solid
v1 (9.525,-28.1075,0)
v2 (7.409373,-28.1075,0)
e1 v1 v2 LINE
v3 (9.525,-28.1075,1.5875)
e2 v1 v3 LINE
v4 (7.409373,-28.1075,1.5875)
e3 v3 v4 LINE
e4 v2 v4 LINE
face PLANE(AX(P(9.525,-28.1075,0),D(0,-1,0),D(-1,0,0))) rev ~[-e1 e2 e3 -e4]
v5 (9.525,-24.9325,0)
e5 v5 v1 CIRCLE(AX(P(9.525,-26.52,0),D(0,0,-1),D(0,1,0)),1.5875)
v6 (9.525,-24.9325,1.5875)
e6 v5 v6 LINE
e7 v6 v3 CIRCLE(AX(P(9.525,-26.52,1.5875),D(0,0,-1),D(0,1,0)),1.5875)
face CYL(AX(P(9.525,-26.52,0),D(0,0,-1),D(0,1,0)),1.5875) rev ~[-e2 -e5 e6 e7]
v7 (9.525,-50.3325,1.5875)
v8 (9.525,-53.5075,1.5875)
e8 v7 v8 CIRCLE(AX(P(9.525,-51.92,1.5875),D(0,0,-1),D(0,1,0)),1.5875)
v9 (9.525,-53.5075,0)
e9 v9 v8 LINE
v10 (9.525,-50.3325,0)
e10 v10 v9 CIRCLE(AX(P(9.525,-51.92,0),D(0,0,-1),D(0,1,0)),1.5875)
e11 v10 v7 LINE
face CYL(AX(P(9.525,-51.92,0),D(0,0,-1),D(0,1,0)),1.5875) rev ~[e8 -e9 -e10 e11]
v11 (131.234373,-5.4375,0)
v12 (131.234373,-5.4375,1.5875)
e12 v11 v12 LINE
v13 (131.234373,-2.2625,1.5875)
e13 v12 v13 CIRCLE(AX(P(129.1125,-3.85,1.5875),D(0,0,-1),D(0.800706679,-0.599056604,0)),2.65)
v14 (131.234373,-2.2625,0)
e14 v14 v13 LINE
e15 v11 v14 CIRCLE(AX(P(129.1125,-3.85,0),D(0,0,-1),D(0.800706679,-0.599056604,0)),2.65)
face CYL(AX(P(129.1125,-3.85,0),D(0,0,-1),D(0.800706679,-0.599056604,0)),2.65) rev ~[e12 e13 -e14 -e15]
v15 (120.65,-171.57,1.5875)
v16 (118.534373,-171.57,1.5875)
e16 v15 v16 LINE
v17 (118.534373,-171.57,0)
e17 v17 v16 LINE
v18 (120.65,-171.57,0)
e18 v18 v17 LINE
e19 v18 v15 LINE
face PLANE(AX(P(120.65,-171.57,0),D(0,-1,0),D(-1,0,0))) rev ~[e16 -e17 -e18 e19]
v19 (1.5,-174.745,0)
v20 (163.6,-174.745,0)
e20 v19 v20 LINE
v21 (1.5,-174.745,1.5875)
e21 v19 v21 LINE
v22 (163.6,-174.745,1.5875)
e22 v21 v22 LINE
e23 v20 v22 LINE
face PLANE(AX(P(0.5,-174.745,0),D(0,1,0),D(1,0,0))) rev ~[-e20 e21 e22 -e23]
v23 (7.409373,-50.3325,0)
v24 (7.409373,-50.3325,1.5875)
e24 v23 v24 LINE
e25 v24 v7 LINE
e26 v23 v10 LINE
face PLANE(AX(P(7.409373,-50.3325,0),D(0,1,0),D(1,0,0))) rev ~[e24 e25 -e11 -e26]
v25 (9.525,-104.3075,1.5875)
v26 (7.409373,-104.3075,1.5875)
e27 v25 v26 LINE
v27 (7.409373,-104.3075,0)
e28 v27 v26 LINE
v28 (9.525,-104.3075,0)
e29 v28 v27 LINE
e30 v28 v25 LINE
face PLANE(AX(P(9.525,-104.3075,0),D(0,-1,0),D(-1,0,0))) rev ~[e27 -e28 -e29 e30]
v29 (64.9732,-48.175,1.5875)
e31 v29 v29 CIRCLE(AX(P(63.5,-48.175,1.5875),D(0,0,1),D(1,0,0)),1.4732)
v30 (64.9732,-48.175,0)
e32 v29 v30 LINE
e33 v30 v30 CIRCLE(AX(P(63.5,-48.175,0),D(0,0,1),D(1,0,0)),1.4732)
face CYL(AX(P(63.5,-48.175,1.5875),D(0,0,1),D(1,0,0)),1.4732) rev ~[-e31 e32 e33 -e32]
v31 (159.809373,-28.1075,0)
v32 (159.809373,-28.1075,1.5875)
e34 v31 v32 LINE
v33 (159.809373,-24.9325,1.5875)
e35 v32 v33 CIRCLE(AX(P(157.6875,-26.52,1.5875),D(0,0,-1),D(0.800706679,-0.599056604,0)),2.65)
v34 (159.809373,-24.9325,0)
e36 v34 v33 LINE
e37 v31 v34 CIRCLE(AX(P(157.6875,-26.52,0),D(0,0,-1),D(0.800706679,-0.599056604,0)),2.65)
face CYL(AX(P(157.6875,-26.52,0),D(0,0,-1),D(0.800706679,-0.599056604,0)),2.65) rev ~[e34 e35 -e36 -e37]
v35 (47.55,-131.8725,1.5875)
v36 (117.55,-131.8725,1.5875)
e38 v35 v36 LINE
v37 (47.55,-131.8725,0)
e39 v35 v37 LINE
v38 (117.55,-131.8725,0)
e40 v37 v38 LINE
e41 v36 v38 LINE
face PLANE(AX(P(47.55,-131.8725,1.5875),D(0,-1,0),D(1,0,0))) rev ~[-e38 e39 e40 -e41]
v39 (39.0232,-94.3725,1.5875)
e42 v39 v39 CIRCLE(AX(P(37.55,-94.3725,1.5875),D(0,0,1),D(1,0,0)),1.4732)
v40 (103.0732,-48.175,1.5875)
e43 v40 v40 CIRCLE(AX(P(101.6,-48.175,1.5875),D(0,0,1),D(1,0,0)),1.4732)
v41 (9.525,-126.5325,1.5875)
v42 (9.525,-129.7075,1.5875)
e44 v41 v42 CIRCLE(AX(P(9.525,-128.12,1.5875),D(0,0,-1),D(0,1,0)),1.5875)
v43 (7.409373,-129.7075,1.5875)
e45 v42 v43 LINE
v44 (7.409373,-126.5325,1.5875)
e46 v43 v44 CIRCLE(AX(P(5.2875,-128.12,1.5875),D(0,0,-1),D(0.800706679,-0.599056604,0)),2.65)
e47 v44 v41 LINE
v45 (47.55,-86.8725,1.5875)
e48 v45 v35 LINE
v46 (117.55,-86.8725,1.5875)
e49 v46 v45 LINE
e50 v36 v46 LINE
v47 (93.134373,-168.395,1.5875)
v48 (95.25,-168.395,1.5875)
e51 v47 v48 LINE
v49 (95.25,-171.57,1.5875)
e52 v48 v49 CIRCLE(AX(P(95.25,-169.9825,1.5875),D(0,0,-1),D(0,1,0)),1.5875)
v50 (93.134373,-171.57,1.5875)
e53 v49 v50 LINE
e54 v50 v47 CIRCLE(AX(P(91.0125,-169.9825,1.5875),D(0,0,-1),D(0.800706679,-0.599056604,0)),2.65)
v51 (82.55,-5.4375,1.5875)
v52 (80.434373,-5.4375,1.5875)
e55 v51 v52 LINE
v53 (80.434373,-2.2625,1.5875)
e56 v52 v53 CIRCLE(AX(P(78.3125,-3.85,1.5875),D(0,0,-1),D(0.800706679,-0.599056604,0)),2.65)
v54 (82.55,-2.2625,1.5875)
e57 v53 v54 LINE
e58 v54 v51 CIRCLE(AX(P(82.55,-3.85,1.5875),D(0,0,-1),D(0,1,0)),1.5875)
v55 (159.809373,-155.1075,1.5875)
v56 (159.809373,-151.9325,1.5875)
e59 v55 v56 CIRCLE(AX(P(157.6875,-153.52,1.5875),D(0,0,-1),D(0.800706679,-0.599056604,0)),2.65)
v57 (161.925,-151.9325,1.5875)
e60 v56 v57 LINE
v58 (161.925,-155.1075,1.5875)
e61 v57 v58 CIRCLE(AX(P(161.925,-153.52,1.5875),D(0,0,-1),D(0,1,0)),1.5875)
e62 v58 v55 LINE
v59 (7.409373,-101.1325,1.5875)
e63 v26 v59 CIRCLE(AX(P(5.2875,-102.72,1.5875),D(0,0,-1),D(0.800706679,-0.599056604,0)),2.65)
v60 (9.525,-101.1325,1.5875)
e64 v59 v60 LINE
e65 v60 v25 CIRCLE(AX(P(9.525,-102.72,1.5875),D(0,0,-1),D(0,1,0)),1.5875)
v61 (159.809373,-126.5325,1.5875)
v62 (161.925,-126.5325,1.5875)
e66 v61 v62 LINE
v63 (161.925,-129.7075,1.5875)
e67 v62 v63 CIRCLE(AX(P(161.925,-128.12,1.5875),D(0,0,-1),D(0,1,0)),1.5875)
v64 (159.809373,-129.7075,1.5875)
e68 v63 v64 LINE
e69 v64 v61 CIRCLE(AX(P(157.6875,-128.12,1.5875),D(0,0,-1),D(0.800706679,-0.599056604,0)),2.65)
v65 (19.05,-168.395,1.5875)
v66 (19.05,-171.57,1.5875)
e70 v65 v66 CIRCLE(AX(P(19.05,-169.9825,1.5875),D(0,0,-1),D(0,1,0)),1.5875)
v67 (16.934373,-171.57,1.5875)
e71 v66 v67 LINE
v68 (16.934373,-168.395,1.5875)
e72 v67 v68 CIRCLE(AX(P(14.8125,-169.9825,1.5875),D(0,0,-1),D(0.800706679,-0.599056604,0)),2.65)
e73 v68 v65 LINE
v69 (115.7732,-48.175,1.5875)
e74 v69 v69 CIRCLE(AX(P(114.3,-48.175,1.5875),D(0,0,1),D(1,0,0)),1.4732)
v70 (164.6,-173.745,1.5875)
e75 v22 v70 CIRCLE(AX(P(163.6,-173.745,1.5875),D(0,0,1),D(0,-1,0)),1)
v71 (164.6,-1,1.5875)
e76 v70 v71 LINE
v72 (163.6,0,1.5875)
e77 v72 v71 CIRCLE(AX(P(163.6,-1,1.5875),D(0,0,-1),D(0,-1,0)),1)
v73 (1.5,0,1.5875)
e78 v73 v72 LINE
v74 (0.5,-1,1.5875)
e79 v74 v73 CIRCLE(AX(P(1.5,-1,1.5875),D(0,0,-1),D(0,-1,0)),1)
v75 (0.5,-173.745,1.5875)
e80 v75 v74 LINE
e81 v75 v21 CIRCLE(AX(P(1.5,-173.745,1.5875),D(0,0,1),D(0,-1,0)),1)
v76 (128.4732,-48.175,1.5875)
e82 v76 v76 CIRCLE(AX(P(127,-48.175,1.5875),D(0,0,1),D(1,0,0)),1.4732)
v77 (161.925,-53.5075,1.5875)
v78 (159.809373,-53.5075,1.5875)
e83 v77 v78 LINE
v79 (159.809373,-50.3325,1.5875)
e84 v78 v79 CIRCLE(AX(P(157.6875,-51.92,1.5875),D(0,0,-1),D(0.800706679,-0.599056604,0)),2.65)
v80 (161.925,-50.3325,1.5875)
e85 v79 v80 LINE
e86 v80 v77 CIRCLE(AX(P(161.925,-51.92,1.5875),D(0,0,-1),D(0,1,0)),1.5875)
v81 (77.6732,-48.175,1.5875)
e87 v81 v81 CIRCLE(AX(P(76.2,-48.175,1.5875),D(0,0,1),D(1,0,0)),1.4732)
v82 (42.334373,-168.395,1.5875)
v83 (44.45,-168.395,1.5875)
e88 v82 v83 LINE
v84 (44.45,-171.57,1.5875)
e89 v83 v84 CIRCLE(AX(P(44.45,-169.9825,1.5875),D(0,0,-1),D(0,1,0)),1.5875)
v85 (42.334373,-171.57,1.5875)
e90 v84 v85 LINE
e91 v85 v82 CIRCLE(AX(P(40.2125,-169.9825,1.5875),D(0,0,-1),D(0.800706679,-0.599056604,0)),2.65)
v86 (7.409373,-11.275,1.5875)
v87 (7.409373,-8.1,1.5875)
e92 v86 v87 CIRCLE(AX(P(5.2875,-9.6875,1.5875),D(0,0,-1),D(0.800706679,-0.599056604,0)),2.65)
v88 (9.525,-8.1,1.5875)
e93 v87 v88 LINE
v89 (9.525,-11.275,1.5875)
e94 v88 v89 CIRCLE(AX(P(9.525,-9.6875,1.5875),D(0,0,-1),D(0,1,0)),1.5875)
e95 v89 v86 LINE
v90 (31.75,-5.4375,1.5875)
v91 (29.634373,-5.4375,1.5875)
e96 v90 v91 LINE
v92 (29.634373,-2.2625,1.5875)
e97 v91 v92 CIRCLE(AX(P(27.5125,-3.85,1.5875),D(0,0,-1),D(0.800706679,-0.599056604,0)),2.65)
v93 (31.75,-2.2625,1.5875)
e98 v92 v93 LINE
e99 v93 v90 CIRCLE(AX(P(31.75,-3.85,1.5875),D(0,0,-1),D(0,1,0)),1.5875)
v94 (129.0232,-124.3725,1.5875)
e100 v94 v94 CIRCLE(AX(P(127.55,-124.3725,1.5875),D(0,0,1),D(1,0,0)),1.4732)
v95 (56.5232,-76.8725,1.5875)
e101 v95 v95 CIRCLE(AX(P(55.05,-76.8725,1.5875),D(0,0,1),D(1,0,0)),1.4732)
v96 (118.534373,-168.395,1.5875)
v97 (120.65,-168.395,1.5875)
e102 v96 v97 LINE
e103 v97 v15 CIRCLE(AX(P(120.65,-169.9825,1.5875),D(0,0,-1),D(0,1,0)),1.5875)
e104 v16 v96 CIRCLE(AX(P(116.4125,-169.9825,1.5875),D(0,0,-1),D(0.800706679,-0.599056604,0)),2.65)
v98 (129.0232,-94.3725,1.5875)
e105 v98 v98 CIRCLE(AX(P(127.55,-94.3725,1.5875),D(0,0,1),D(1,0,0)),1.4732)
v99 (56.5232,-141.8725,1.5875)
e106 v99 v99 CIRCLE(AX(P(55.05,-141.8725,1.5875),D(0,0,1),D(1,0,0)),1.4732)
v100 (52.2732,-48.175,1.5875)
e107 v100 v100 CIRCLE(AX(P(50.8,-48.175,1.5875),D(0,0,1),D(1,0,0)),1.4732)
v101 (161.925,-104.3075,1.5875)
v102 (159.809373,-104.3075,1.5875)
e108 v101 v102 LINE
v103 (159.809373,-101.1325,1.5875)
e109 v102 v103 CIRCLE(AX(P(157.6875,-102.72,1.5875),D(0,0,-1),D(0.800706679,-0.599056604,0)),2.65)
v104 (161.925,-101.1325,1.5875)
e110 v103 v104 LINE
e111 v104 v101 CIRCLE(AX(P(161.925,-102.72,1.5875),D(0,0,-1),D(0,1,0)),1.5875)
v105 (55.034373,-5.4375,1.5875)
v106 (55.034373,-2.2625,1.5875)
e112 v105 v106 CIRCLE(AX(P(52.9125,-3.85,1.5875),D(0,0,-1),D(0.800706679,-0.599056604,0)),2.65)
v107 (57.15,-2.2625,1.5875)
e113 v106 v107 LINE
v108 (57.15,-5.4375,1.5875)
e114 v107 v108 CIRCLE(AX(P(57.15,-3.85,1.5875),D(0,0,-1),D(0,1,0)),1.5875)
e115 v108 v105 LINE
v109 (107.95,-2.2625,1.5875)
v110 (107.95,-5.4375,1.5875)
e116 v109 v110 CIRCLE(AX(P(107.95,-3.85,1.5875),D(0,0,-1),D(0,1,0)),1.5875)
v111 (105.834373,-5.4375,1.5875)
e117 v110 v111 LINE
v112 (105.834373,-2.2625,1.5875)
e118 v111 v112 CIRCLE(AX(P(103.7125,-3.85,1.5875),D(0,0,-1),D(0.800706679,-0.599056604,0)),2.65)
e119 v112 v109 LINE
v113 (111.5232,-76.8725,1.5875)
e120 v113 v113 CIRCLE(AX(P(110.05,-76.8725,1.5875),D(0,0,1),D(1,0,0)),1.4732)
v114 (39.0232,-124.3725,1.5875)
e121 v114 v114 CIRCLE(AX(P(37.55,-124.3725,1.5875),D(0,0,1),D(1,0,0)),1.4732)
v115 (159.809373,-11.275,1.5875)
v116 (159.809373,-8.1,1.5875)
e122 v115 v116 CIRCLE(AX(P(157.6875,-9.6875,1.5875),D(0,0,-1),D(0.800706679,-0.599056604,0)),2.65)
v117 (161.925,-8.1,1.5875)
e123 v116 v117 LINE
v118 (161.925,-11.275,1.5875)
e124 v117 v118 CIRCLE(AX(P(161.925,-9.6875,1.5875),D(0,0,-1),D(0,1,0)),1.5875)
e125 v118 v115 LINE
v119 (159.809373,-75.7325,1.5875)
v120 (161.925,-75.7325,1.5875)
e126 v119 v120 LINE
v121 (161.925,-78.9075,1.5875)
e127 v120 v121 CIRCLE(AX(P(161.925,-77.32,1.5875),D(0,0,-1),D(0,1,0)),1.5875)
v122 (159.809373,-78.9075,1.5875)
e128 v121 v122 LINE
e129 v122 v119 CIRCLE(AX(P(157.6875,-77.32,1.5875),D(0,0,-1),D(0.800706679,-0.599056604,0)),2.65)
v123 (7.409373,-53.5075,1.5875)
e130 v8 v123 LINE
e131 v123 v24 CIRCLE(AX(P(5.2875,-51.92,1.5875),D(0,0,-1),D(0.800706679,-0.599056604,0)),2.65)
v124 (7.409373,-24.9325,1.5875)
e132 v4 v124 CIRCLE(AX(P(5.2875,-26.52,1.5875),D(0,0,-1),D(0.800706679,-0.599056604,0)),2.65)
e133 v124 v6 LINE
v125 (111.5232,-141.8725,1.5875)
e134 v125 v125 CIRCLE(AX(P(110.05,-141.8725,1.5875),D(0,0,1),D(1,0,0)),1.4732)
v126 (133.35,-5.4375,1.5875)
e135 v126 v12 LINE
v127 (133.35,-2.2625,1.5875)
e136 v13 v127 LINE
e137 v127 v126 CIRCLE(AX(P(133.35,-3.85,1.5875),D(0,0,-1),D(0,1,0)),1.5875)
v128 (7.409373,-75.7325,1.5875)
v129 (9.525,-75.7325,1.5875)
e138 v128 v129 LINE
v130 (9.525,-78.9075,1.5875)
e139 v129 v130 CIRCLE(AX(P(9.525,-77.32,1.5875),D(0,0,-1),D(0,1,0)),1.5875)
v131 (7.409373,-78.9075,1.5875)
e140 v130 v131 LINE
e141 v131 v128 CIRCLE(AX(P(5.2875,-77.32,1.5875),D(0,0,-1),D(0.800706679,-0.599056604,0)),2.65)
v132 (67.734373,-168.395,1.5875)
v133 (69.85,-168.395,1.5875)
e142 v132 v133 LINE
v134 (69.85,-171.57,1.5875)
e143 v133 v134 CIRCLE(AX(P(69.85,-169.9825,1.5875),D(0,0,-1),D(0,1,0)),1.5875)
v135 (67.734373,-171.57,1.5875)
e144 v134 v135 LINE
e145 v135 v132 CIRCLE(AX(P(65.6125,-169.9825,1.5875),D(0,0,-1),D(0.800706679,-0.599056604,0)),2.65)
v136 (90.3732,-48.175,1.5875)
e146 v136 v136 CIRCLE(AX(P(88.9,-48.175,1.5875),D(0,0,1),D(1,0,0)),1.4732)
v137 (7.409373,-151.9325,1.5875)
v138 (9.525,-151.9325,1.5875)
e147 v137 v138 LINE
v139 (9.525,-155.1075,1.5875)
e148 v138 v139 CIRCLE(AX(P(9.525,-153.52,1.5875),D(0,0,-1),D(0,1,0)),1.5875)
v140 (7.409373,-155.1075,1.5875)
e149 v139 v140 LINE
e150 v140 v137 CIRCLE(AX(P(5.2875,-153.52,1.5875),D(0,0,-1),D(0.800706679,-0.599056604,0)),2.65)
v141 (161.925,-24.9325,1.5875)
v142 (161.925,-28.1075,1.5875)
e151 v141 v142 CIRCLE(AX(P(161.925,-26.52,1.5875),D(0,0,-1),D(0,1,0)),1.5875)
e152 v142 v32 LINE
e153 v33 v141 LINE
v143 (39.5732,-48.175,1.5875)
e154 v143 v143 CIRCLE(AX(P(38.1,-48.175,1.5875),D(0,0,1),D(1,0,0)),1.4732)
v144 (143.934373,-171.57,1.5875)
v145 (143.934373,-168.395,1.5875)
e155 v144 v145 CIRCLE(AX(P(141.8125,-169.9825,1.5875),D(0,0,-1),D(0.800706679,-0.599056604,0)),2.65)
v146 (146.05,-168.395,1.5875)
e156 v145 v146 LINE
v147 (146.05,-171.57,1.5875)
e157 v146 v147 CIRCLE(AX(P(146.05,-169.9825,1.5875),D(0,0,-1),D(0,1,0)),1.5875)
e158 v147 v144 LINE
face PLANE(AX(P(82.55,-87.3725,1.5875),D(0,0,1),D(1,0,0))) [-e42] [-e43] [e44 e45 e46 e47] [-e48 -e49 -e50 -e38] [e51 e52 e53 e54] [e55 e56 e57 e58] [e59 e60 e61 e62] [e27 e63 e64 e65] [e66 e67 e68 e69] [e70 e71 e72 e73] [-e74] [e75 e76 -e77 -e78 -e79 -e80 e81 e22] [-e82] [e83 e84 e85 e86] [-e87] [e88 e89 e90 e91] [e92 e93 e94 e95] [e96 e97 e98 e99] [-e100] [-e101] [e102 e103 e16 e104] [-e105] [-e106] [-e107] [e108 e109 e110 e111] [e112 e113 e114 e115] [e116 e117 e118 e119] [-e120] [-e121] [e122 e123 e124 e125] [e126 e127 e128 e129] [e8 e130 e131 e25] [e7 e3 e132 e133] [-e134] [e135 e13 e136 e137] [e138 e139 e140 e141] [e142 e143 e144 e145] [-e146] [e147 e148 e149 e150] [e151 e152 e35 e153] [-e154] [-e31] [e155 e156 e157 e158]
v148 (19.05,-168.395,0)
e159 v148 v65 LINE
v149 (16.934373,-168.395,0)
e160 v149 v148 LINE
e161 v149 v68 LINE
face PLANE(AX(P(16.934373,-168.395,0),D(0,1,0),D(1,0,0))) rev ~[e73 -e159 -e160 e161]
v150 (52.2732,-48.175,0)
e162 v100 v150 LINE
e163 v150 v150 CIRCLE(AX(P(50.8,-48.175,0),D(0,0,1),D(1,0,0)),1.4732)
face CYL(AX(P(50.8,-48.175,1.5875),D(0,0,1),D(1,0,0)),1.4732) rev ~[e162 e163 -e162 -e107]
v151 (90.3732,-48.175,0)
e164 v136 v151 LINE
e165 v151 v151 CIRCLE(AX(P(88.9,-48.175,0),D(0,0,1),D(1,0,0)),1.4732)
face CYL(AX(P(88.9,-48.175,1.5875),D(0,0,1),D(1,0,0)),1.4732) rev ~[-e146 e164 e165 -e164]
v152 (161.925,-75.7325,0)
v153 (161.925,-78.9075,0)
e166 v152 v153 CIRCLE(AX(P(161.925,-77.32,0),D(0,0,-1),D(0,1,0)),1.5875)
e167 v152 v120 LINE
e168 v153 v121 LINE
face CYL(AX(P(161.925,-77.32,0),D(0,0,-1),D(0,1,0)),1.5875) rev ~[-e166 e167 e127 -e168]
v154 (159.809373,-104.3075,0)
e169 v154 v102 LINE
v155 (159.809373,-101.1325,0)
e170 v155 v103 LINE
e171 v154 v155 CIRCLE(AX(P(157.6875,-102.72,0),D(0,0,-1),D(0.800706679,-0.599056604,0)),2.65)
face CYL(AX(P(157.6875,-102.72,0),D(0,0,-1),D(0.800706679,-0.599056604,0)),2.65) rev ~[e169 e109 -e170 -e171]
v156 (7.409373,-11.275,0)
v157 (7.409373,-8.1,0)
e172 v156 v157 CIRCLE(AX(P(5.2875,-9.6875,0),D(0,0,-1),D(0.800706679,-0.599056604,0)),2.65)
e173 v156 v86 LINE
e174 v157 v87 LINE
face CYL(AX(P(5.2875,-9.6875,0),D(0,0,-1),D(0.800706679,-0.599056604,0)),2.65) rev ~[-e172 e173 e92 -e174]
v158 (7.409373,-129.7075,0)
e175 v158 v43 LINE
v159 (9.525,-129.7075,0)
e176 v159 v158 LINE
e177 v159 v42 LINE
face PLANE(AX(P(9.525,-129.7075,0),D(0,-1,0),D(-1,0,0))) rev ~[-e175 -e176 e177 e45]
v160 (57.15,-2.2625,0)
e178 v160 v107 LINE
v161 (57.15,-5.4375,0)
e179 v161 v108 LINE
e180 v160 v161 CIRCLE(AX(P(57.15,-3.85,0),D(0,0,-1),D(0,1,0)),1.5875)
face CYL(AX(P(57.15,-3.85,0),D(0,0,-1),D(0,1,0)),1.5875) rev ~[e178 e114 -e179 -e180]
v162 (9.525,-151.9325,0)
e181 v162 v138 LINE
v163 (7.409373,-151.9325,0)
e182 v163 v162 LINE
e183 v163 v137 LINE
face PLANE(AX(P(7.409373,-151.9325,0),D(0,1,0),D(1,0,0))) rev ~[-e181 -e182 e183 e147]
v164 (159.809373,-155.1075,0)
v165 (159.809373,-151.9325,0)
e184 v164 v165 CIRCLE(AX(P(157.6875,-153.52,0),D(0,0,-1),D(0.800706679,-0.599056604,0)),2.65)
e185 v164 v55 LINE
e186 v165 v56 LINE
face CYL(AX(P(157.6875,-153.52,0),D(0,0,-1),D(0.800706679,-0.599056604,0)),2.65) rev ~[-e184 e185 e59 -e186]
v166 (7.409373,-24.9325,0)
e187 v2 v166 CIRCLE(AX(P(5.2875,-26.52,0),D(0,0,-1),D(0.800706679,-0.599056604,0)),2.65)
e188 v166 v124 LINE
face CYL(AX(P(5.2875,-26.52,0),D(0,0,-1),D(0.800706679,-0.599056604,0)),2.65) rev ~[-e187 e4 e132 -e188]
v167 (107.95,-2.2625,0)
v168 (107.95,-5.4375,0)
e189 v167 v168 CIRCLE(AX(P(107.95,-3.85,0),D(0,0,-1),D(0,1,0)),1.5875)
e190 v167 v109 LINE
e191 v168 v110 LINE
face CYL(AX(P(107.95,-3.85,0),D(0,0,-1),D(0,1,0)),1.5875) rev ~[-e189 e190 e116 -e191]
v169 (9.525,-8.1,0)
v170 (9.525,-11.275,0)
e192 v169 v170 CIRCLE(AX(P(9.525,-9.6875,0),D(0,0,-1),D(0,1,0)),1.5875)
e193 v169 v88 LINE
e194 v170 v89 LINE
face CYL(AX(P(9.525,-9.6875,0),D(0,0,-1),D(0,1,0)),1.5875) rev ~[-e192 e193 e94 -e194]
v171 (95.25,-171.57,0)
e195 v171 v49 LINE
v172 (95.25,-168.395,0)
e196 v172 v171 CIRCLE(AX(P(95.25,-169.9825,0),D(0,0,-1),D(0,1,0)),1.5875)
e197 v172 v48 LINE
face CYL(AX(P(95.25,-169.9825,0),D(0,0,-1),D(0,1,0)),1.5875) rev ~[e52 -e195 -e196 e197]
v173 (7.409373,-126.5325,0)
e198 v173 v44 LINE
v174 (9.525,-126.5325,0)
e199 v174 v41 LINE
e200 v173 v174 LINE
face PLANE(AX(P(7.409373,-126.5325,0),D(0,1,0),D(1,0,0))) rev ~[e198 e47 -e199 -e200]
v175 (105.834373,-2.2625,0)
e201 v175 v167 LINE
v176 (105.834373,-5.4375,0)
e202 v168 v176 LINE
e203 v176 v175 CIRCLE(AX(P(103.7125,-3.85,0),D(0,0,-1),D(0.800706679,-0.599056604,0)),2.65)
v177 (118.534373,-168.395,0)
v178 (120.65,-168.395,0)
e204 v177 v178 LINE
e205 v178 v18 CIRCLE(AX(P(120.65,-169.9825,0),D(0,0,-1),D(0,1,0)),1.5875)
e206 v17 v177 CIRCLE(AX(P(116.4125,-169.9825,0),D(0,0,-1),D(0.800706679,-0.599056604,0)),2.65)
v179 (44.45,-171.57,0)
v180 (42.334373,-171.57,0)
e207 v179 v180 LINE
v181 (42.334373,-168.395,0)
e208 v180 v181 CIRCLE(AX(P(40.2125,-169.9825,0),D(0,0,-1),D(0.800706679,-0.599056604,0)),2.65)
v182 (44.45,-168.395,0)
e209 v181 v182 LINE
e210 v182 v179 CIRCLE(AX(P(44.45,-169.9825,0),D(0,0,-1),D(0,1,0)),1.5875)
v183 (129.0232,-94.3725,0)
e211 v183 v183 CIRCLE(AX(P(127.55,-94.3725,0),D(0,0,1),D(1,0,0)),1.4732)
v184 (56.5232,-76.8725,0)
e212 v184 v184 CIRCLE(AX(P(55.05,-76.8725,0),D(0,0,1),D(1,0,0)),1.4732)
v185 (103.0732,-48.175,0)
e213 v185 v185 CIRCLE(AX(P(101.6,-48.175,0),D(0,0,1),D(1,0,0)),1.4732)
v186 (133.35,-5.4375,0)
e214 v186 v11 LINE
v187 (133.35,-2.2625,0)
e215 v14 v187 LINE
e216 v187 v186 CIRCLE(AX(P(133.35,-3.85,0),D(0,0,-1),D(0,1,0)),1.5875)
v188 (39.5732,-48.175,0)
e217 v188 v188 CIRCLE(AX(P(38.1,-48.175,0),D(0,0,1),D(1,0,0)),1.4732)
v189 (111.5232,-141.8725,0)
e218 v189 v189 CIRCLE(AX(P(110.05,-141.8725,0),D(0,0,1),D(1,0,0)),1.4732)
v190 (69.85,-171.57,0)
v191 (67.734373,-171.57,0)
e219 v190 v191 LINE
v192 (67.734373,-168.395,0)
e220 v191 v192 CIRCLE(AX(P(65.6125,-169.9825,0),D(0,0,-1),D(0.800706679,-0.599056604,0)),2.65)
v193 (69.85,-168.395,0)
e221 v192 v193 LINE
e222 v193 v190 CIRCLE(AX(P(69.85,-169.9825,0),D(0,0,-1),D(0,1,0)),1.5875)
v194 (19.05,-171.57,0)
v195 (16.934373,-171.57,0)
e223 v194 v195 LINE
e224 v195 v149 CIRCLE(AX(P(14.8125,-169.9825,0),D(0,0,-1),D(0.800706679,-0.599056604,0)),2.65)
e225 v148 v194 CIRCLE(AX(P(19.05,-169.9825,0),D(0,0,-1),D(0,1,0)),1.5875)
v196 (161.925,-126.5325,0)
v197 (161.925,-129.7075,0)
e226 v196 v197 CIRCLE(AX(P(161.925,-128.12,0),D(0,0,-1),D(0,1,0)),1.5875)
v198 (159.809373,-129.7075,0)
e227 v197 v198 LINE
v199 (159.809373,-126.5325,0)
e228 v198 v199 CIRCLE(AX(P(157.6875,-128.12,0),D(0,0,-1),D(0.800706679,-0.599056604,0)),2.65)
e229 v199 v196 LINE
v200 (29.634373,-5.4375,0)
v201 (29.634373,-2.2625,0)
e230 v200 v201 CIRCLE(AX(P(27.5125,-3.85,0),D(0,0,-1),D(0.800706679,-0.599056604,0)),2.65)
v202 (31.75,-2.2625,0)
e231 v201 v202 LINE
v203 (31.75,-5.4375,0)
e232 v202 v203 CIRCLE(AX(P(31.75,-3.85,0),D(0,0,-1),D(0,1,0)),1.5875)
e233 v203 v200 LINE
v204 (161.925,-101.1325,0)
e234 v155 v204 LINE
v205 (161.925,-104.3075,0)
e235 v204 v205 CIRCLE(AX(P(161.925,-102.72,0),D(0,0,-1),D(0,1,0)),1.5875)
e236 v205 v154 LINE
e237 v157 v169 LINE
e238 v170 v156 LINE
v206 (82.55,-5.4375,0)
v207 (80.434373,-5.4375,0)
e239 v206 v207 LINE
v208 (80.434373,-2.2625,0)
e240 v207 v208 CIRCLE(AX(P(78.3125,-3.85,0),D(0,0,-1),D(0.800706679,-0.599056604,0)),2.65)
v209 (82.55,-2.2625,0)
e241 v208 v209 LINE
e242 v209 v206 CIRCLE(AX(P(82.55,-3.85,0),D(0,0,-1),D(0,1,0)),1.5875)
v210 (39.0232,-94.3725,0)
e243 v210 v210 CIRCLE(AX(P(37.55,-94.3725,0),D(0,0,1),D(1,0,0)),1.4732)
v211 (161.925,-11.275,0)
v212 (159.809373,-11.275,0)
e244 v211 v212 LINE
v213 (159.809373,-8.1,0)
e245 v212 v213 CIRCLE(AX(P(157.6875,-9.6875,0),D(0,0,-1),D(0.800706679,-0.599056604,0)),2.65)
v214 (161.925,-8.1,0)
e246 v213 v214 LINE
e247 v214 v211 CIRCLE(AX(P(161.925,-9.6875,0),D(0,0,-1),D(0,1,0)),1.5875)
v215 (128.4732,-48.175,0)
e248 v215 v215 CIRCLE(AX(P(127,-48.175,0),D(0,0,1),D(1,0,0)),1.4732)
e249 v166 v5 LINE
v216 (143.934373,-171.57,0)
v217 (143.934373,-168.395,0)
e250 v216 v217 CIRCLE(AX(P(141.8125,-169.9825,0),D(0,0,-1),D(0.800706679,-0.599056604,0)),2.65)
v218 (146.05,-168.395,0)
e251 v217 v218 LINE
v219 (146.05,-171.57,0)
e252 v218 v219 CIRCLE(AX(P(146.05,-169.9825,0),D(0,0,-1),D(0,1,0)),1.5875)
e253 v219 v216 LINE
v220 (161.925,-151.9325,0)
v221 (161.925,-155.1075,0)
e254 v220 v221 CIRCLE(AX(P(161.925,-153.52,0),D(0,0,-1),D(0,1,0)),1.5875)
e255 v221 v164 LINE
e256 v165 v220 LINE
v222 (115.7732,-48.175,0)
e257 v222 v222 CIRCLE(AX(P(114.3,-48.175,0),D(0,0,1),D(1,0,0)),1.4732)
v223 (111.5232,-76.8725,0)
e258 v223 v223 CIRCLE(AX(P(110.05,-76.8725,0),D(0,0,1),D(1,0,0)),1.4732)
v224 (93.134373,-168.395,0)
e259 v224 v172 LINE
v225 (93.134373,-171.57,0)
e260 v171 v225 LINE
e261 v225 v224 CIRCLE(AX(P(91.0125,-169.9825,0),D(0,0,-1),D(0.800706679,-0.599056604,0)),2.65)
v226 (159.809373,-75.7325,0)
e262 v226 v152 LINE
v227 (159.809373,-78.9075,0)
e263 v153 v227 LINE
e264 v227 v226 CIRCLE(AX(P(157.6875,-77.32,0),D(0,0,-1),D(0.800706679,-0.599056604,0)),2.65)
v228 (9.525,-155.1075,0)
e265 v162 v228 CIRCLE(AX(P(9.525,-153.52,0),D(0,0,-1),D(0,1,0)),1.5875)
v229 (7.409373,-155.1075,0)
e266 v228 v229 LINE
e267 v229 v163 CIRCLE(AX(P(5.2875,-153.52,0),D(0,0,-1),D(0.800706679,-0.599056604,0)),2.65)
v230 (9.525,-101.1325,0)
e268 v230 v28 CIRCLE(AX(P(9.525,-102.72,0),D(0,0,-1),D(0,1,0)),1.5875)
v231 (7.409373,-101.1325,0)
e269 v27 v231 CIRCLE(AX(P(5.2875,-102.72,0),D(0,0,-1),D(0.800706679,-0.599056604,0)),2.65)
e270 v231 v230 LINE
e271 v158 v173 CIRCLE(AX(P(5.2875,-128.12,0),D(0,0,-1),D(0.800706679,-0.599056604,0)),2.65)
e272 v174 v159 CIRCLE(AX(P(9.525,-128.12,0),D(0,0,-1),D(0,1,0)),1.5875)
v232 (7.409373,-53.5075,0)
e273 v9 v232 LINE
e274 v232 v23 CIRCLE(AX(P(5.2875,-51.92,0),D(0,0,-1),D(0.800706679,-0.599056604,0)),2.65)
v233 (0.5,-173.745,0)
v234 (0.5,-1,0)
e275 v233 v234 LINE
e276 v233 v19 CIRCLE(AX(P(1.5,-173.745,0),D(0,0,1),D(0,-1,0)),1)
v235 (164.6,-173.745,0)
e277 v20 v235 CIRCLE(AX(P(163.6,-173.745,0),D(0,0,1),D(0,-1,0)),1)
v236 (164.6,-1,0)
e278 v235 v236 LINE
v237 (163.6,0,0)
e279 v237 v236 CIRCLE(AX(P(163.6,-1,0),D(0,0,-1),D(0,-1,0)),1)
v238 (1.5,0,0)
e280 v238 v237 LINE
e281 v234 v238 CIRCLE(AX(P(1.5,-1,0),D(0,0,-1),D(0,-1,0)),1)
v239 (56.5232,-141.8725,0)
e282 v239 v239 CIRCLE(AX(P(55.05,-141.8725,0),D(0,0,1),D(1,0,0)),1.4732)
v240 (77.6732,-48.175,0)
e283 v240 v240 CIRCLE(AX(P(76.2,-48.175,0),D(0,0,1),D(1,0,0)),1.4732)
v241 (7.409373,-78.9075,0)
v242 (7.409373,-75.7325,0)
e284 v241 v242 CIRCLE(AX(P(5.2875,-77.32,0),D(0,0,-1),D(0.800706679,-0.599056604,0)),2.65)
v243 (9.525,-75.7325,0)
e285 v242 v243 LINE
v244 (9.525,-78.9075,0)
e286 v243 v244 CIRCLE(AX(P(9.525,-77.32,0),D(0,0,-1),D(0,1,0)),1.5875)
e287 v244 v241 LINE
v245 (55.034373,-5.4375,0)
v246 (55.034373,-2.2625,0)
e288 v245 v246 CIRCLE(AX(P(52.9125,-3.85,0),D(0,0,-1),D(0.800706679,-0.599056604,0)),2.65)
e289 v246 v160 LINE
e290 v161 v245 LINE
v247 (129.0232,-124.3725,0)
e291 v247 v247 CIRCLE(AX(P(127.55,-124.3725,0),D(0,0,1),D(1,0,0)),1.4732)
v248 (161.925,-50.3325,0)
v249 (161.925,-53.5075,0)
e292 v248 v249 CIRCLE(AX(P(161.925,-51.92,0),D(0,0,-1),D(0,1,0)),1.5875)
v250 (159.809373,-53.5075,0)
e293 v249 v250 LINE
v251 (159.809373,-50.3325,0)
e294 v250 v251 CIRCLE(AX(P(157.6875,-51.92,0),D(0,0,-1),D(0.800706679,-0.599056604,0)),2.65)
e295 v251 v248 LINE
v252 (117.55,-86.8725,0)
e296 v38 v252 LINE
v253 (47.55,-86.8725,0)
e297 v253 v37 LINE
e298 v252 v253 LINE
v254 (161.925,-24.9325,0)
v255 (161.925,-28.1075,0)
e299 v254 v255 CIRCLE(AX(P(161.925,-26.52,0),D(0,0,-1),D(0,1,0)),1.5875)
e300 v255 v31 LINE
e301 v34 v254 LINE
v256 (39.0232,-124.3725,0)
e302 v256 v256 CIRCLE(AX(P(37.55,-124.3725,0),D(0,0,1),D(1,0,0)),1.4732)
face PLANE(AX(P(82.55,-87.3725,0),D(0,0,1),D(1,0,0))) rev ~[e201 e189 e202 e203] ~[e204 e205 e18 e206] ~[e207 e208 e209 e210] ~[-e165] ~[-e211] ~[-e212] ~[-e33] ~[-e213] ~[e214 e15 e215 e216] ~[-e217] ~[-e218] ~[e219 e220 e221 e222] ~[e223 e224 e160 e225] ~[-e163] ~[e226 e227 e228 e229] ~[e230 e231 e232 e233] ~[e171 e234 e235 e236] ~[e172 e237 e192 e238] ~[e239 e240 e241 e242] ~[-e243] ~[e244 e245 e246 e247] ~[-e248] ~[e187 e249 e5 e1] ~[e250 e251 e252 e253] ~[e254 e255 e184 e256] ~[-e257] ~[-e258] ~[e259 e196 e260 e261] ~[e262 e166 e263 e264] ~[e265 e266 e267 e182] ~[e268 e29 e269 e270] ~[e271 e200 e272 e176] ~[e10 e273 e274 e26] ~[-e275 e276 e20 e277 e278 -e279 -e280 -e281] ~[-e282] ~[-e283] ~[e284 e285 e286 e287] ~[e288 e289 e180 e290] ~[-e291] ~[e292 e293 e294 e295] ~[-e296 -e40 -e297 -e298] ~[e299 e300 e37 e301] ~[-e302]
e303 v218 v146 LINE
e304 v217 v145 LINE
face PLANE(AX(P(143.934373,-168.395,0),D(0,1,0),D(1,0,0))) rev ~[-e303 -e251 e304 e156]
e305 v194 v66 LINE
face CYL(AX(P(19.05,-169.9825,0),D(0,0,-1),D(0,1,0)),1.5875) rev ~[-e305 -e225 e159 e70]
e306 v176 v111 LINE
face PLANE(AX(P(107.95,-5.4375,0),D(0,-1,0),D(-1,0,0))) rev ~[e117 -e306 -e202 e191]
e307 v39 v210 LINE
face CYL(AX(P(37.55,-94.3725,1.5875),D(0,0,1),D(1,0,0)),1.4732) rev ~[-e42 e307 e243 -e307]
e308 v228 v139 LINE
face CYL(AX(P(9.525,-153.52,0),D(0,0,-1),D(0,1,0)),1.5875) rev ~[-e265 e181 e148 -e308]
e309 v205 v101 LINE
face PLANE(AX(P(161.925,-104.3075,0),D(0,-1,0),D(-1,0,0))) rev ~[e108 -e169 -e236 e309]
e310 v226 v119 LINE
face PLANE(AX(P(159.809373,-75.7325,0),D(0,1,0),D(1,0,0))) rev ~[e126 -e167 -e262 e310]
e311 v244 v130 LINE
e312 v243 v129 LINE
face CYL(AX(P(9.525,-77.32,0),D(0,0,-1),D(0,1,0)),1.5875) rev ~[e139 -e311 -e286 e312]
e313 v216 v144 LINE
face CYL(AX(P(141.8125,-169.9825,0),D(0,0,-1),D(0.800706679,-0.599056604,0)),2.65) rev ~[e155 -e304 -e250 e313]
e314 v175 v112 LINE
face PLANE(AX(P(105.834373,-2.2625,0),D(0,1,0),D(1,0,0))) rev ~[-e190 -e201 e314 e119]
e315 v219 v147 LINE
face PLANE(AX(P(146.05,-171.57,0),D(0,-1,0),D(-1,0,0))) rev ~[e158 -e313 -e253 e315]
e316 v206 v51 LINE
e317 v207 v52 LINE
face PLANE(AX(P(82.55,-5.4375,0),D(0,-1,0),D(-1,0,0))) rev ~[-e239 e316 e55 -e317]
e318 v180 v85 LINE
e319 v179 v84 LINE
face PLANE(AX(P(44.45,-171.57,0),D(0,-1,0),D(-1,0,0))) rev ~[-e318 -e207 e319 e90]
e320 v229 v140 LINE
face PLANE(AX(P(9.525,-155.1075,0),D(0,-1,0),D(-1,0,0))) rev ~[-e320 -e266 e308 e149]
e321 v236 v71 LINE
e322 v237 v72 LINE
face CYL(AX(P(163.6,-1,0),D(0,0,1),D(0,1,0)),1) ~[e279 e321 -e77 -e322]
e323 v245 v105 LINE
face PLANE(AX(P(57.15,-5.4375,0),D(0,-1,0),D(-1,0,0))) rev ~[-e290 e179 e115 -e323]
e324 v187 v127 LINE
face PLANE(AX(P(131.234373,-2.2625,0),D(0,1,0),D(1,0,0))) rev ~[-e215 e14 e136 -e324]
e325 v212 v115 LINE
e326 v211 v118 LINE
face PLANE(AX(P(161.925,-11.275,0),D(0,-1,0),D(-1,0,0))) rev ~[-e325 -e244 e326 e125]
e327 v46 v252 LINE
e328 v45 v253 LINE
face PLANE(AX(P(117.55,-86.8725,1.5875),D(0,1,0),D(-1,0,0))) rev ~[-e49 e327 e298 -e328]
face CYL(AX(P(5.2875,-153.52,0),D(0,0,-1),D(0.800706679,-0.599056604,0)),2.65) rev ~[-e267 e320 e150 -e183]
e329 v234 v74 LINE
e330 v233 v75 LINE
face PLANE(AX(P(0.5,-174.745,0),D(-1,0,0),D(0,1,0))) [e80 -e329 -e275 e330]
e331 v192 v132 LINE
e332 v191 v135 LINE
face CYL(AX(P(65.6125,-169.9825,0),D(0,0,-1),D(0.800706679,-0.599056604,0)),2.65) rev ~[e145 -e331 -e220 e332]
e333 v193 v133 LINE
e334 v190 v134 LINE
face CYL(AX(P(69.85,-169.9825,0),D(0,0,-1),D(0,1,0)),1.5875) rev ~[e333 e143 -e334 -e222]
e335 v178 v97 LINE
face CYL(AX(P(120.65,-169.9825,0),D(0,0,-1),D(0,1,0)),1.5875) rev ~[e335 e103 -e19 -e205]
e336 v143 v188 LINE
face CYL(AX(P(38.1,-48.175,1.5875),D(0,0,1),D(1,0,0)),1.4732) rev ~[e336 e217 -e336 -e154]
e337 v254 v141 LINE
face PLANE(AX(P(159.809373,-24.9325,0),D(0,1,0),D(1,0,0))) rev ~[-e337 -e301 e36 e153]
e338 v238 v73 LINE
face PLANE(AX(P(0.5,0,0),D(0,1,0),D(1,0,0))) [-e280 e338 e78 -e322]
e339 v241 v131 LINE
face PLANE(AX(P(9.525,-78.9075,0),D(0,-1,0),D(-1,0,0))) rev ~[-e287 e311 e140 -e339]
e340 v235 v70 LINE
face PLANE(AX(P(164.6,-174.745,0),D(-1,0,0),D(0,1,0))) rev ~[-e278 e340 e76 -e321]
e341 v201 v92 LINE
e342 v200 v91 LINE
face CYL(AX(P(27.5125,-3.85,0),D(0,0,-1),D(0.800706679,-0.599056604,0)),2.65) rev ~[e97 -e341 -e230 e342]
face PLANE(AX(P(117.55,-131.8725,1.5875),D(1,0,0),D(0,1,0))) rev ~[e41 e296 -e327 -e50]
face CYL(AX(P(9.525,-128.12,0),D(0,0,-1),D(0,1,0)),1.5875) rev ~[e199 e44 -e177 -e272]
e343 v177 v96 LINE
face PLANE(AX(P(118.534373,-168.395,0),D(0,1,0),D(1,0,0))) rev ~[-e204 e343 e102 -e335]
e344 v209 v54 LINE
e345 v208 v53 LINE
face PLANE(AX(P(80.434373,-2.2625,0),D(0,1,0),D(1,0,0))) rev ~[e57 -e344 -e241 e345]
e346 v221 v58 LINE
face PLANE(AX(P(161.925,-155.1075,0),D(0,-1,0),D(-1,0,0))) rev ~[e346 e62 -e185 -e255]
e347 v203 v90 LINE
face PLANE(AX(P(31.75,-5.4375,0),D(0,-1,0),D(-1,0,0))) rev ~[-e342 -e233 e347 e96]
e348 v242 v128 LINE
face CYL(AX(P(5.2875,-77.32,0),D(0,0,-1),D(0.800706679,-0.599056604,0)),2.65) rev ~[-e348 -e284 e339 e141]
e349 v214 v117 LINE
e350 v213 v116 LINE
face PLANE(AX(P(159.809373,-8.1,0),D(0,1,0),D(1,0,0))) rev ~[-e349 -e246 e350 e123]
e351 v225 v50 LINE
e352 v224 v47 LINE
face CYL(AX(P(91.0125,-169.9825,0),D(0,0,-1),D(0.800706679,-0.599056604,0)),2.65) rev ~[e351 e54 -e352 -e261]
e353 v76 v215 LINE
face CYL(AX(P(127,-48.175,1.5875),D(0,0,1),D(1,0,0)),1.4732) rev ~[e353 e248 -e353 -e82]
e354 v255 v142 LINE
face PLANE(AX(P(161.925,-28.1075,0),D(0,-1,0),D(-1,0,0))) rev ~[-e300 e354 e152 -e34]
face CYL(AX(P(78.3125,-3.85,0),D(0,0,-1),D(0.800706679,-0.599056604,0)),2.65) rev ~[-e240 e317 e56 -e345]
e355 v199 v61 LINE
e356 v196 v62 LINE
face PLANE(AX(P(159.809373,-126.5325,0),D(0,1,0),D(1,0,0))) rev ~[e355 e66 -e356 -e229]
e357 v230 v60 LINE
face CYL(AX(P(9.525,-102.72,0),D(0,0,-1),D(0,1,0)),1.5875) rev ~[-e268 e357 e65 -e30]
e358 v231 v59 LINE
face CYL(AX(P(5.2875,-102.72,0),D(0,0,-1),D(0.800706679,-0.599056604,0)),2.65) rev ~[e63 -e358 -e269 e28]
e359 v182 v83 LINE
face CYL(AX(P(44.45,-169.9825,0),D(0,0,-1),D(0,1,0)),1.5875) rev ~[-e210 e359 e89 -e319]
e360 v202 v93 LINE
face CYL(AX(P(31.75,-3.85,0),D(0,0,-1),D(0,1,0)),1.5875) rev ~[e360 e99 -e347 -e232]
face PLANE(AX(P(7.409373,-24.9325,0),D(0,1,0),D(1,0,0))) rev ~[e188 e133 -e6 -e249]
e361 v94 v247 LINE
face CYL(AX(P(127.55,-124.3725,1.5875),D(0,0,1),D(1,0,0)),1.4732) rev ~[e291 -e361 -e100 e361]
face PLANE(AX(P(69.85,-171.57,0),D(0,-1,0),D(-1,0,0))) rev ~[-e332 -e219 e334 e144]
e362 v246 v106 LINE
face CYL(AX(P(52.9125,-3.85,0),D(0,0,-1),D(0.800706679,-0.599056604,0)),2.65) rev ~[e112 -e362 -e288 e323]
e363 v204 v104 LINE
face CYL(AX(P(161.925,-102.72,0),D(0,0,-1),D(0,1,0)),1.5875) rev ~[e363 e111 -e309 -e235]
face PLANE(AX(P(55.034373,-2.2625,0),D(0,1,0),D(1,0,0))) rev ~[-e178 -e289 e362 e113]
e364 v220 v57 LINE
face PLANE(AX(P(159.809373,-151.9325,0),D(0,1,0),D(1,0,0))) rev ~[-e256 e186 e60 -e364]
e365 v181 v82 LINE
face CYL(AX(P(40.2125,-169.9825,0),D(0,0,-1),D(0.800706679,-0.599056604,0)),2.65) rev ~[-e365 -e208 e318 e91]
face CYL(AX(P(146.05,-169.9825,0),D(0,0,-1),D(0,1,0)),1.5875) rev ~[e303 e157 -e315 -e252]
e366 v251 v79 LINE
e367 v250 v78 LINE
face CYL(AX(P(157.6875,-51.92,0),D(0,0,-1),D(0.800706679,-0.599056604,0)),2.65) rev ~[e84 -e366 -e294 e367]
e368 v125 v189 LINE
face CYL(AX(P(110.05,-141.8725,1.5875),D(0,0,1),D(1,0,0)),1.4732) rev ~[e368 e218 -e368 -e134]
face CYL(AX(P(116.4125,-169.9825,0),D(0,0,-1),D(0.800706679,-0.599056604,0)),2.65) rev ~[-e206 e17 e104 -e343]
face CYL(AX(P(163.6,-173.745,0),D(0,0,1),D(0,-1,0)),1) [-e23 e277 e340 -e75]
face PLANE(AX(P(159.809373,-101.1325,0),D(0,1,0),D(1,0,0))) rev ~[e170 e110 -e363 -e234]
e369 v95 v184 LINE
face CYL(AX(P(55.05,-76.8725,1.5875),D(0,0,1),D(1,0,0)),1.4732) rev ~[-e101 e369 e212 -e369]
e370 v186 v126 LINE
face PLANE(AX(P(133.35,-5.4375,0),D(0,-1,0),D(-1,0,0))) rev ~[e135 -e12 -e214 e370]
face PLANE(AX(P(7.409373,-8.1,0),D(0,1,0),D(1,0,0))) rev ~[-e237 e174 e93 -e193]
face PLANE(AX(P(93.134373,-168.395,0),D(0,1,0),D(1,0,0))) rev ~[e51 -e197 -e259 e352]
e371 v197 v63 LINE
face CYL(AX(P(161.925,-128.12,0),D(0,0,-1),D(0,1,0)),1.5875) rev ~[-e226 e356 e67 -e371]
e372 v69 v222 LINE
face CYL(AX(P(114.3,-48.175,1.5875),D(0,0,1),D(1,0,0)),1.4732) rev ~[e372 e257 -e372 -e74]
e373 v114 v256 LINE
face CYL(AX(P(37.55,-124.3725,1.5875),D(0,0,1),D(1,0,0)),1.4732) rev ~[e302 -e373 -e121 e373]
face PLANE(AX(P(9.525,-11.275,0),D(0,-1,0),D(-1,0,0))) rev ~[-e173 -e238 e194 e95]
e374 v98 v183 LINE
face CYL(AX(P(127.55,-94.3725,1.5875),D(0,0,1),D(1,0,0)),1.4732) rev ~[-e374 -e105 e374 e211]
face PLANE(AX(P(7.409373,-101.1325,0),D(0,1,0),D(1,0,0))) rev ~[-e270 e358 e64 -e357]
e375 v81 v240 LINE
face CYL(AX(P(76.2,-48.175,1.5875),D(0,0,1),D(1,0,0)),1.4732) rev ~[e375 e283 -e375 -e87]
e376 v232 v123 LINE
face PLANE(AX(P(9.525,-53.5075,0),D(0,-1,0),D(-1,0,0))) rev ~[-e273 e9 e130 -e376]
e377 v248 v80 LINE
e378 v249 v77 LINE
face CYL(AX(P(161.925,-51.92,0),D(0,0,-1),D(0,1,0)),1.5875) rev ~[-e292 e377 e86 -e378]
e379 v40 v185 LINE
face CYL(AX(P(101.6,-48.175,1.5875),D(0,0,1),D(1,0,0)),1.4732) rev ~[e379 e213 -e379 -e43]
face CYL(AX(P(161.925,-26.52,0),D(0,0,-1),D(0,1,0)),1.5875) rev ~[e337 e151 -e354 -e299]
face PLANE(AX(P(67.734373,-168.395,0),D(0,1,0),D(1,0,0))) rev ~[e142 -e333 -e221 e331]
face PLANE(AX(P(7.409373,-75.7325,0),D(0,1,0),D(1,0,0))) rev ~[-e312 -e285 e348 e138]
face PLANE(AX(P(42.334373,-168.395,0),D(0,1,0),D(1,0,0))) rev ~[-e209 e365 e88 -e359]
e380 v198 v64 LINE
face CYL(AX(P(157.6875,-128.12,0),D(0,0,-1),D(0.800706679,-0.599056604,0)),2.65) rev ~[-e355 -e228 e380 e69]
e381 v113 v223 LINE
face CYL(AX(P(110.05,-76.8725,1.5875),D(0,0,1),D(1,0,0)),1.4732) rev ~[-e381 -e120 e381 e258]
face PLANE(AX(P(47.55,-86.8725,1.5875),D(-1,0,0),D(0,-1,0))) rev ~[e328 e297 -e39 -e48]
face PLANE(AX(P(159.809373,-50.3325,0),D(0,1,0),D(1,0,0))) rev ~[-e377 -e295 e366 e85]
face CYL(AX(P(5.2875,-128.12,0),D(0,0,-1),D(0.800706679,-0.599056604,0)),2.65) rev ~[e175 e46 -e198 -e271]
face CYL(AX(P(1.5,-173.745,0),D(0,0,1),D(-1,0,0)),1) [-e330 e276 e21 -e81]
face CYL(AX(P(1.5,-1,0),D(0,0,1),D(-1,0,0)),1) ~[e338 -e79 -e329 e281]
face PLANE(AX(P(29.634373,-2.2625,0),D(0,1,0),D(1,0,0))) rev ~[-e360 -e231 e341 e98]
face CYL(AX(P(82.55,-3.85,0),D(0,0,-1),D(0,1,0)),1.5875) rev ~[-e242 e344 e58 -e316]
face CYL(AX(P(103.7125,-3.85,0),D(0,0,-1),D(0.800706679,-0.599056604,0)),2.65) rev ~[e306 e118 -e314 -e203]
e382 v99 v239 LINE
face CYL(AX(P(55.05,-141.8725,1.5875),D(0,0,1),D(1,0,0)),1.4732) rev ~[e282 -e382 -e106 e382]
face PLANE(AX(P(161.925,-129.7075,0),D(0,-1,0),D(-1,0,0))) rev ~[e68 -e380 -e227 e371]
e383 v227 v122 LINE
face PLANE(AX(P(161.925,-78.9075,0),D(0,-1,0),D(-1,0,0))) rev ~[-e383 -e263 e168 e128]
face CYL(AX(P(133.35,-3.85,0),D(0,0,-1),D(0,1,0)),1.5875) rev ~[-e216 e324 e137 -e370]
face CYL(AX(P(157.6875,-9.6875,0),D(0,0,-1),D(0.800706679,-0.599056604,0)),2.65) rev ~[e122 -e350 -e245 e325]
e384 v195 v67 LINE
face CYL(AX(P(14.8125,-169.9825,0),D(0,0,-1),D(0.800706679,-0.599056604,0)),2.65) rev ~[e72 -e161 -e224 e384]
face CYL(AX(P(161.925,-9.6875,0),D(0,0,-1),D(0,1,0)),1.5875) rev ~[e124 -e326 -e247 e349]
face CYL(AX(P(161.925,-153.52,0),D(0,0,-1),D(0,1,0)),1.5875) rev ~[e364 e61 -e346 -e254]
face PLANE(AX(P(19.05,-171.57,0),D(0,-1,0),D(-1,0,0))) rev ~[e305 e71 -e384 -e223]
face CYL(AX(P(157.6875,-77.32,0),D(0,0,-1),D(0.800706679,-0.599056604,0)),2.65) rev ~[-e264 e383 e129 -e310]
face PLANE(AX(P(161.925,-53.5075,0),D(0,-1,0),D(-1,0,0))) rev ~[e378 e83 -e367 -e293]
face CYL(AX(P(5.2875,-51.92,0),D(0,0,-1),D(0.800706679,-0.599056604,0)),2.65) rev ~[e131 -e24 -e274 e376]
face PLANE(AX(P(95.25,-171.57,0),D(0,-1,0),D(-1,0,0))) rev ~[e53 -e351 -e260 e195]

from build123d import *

# Parameters (mm, degrees)
SKETCH1_W                = 164.1
SKETCH1_H                = 174.745
BOSS_EXTRUDE1_DEPTH      = 1.5875
FILLET1_R                = 1
SKETCH2_R                = 1.4732
CUT_EXTRUDE1_DEPTH       = 10
HEAT_STRAP_CONNECTIONS_R = 1.4732
CUT_EXTRUDE2_DEPTH       = 241.065605994


with BuildPart() as part:
    # Sketch1 → Boss-Extrude1 (new body)
    with BuildSketch(Plane.XY):
        with Locations((82.55, -87.3725)):
            Rectangle(SKETCH1_W, SKETCH1_H)
        with BuildLine():
            Line((82.55, -5.4375), (80.434372699, -5.4375))
            ThreePointArc((80.434372699, -5.4375), (75.6625, -3.85), (80.434372699, -2.2625))
            Line((80.434372699, -2.2625), (82.55, -2.2625))
            ThreePointArc((82.55, -2.2625), (84.1375, -3.85), (82.55, -5.4375))
        make_face(mode=Mode.SUBTRACT)
        with BuildLine():
            Line((16.934372699, -168.395), (19.05, -168.395))
            ThreePointArc((19.05, -168.395), (20.6375, -169.9825), (19.05, -171.57))
            Line((19.05, -171.57), (16.934372699, -171.57))
            ThreePointArc((16.934372699, -171.57), (12.1625, -169.9825), (16.934372699, -168.395))
        make_face(mode=Mode.SUBTRACT)
        with BuildLine():
            Line((7.409372699, -151.9325), (9.525, -151.9325))
            ThreePointArc((9.525, -151.9325), (11.1125, -153.52), (9.525, -155.1075))
            Line((9.525, -155.1075), (7.409372699, -155.1075))
            ThreePointArc((7.409372699, -155.1075), (2.6375, -153.52), (7.409372699, -151.9325))
        make_face(mode=Mode.SUBTRACT)
        with BuildLine():
            Line((42.334372699, -168.395), (44.45, -168.395))
            ThreePointArc((44.45, -168.395), (46.0375, -169.9825), (44.45, -171.57))
            Line((44.45, -171.57), (42.334372699, -171.57))
            ThreePointArc((42.334372699, -171.57), (37.5625, -169.9825), (42.334372699, -168.395))
        make_face(mode=Mode.SUBTRACT)
        with BuildLine():
            Line((67.734372699, -168.395), (69.85, -168.395))
            ThreePointArc((69.85, -168.395), (71.4375, -169.9825), (69.85, -171.57))
            Line((69.85, -171.57), (67.734372699, -171.57))
            ThreePointArc((67.734372699, -171.57), (62.9625, -169.9825), (67.734372699, -168.395))
        make_face(mode=Mode.SUBTRACT)
        with BuildLine():
            Line((7.409372699, -126.5325), (9.525, -126.5325))
            ThreePointArc((9.525, -126.5325), (11.1125, -128.12), (9.525, -129.7075))
            Line((9.525, -129.7075), (7.409372699, -129.7075))
            ThreePointArc((7.409372699, -129.7075), (2.6375, -128.12), (7.409372699, -126.5325))
        make_face(mode=Mode.SUBTRACT)
        with BuildLine():
            Line((7.409372699, -101.1325), (9.525, -101.1325))
            ThreePointArc((9.525, -101.1325), (11.1125, -102.72), (9.525, -104.3075))
            Line((9.525, -104.3075), (7.409372699, -104.3075))
            ThreePointArc((7.409372699, -104.3075), (2.6375, -102.72), (7.409372699, -101.1325))
        make_face(mode=Mode.SUBTRACT)
        with BuildLine():
            Line((7.409372699, -75.7325), (9.525, -75.7325))
            ThreePointArc((9.525, -75.7325), (11.1125, -77.32), (9.525, -78.9075))
            Line((9.525, -78.9075), (7.409372699, -78.9075))
            ThreePointArc((7.409372699, -78.9075), (2.6375, -77.32), (7.409372699, -75.7325))
        make_face(mode=Mode.SUBTRACT)
        with BuildLine():
            Line((7.409372699, -50.3325), (9.525, -50.3325))
            ThreePointArc((9.525, -50.3325), (11.1125, -51.92), (9.525, -53.5075))
            Line((9.525, -53.5075), (7.409372699, -53.5075))
            ThreePointArc((7.409372699, -53.5075), (2.6375, -51.92), (7.409372699, -50.3325))
        make_face(mode=Mode.SUBTRACT)
        with BuildLine():
            Line((7.409372699, -24.9325), (9.525, -24.9325))
            ThreePointArc((9.525, -24.9325), (11.1125, -26.52), (9.525, -28.1075))
            Line((9.525, -28.1075), (7.409372699, -28.1075))
            ThreePointArc((7.409372699, -28.1075), (2.6375, -26.52), (7.409372699, -24.9325))
        make_face(mode=Mode.SUBTRACT)
        with BuildLine():
            Line((7.409372699, -8.1), (9.525, -8.1))
            ThreePointArc((9.525, -8.1), (11.1125, -9.6875), (9.525, -11.275))
            Line((9.525, -11.275), (7.409372699, -11.275))
            ThreePointArc((7.409372699, -11.275), (2.6375, -9.6875), (7.409372699, -8.1))
        make_face(mode=Mode.SUBTRACT)
        with BuildLine():
            Line((29.634372699, -2.2625), (31.75, -2.2625))
            ThreePointArc((31.75, -2.2625), (33.3375, -3.85), (31.75, -5.4375))
            Line((31.75, -5.4375), (29.634372699, -5.4375))
            ThreePointArc((29.634372699, -5.4375), (24.8625, -3.85), (29.634372699, -2.2625))
        make_face(mode=Mode.SUBTRACT)
        with BuildLine():
            Line((55.034372699, -2.2625), (57.15, -2.2625))
            ThreePointArc((57.15, -2.2625), (58.7375, -3.85), (57.15, -5.4375))
            Line((57.15, -5.4375), (55.034372699, -5.4375))
            ThreePointArc((55.034372699, -5.4375), (50.2625, -3.85), (55.034372699, -2.2625))
        make_face(mode=Mode.SUBTRACT)
        with BuildLine():
            ThreePointArc((161.925, -8.1), (163.5125, -9.6875), (161.925, -11.275))
            Line((161.925, -11.275), (159.809372699, -11.275))
            ThreePointArc((159.809372699, -11.275), (155.0375, -9.6875), (159.809372699, -8.1))
            Line((159.809372699, -8.1), (161.925, -8.1))
        make_face(mode=Mode.SUBTRACT)
        with BuildLine():
            Line((93.134372699, -168.395), (95.25, -168.395))
            ThreePointArc((95.25, -168.395), (96.8375, -169.9825), (95.25, -171.57))
            Line((95.25, -171.57), (93.134372699, -171.57))
            ThreePointArc((93.134372699, -171.57), (88.3625, -169.9825), (93.134372699, -168.395))
        make_face(mode=Mode.SUBTRACT)
        with BuildLine():
            Line((118.534372699, -168.395), (120.65, -168.395))
            ThreePointArc((120.65, -168.395), (122.2375, -169.9825), (120.65, -171.57))
            Line((120.65, -171.57), (118.534372699, -171.57))
            ThreePointArc((118.534372699, -171.57), (113.7625, -169.9825), (118.534372699, -168.395))
        make_face(mode=Mode.SUBTRACT)
        with BuildLine():
            Line((143.934372699, -168.395), (146.05, -168.395))
            ThreePointArc((146.05, -168.395), (147.6375, -169.9825), (146.05, -171.57))
            Line((146.05, -171.57), (143.934372699, -171.57))
            ThreePointArc((143.934372699, -171.57), (139.1625, -169.9825), (143.934372699, -168.395))
        make_face(mode=Mode.SUBTRACT)
        with BuildLine():
            Line((159.809372699, -151.9325), (161.925, -151.9325))
            ThreePointArc((161.925, -151.9325), (163.5125, -153.52), (161.925, -155.1075))
            Line((161.925, -155.1075), (159.809372699, -155.1075))
            ThreePointArc((159.809372699, -155.1075), (155.0375, -153.52), (159.809372699, -151.9325))
        make_face(mode=Mode.SUBTRACT)
        with BuildLine():
            Line((159.809372699, -126.5325), (161.925, -126.5325))
            ThreePointArc((161.925, -126.5325), (163.5125, -128.12), (161.925, -129.7075))
            Line((161.925, -129.7075), (159.809372699, -129.7075))
            ThreePointArc((159.809372699, -129.7075), (155.0375, -128.12), (159.809372699, -126.5325))
        make_face(mode=Mode.SUBTRACT)
        with BuildLine():
            Line((159.809372699, -101.1325), (161.925, -101.1325))
            ThreePointArc((161.925, -101.1325), (163.5125, -102.72), (161.925, -104.3075))
            Line((161.925, -104.3075), (159.809372699, -104.3075))
            ThreePointArc((159.809372699, -104.3075), (155.0375, -102.72), (159.809372699, -101.1325))
        make_face(mode=Mode.SUBTRACT)
        with BuildLine():
            Line((159.809372699, -75.7325), (161.925, -75.7325))
            ThreePointArc((161.925, -75.7325), (163.5125, -77.32), (161.925, -78.9075))
            Line((161.925, -78.9075), (159.809372699, -78.9075))
            ThreePointArc((159.809372699, -78.9075), (155.0375, -77.32), (159.809372699, -75.7325))
        make_face(mode=Mode.SUBTRACT)
        with BuildLine():
            Line((159.809372699, -50.3325), (161.925, -50.3325))
            ThreePointArc((161.925, -50.3325), (163.5125, -51.92), (161.925, -53.5075))
            Line((161.925, -53.5075), (159.809372699, -53.5075))
            ThreePointArc((159.809372699, -53.5075), (155.0375, -51.92), (159.809372699, -50.3325))
        make_face(mode=Mode.SUBTRACT)
        with BuildLine():
            Line((105.834372699, -2.2625), (107.95, -2.2625))
            ThreePointArc((107.95, -2.2625), (109.5375, -3.85), (107.95, -5.4375))
            Line((107.95, -5.4375), (105.834372699, -5.4375))
            ThreePointArc((105.834372699, -5.4375), (101.0625, -3.85), (105.834372699, -2.2625))
        make_face(mode=Mode.SUBTRACT)
        with BuildLine():
            Line((159.809372699, -24.9325), (161.925, -24.9325))
            ThreePointArc((161.925, -24.9325), (163.5125, -26.52), (161.925, -28.1075))
            Line((161.925, -28.1075), (159.809372699, -28.1075))
            ThreePointArc((159.809372699, -28.1075), (155.0375, -26.52), (159.809372699, -24.9325))
        make_face(mode=Mode.SUBTRACT)
        with BuildLine():
            Line((131.234372699, -2.2625), (133.35, -2.2625))
            ThreePointArc((133.35, -2.2625), (134.9375, -3.85), (133.35, -5.4375))
            Line((133.35, -5.4375), (131.234372699, -5.4375))
            ThreePointArc((131.234372699, -5.4375), (126.4625, -3.85), (131.234372699, -2.2625))
        make_face(mode=Mode.SUBTRACT)
    extrude(amount=BOSS_EXTRUDE1_DEPTH)

    # Fillet1
    fillet1_edges = [part.edges().sort_by_distance(p)[0] for p in [
        (164.6, -174.745, 0.79375),
        (0.5, -174.745, 0.79375),
        (0.5, 0, 0.79375),
        (164.6, 0, 0.79375),
    ]]
    fillet(fillet1_edges, radius=FILLET1_R)

    # Sketch2 → Cut-Extrude1 (cut)
    with BuildSketch(Plane.XY.offset(1.5875)):
        Polygon((117.55, -86.8725), (47.55, -86.8725), (47.55, -126.8725), (47.55, -131.8725), (117.55, -131.8725), (117.55, -126.8725), align=None)
        with Locations((110.05, -76.8725)):
            Circle(SKETCH2_R)
        with Locations((37.55, -94.3725)):
            Circle(SKETCH2_R)
        with Locations((37.55, -124.3725)):
            Circle(SKETCH2_R)
        with Locations((110.05, -141.8725)):
            Circle(SKETCH2_R)
        with Locations((55.05, -141.8725)):
            Circle(SKETCH2_R)
        with Locations((55.05, -76.8725)):
            Circle(SKETCH2_R)
        with Locations((127.55, -94.3725)):
            Circle(SKETCH2_R)
        with Locations((127.55, -124.3725)):
            Circle(SKETCH2_R)
    extrude(amount=-CUT_EXTRUDE1_DEPTH, mode=Mode.SUBTRACT)

    # Heat Strap Connections → Cut-Extrude2 (cut, through all)
    with BuildSketch(Plane.XY.offset(1.5875)):
        with Locations((38.1, -48.175)):
            Circle(HEAT_STRAP_CONNECTIONS_R)
        with Locations((50.8, -48.175)):
            Circle(HEAT_STRAP_CONNECTIONS_R)
        with Locations((63.5, -48.175)):
            Circle(HEAT_STRAP_CONNECTIONS_R)
        with Locations((76.2, -48.175)):
            Circle(HEAT_STRAP_CONNECTIONS_R)
        with Locations((88.9, -48.175)):
            Circle(HEAT_STRAP_CONNECTIONS_R)
        with Locations((101.6, -48.175)):
            Circle(HEAT_STRAP_CONNECTIONS_R)
        with Locations((114.3, -48.175)):
            Circle(HEAT_STRAP_CONNECTIONS_R)
        with Locations((127, -48.175)):
            Circle(HEAT_STRAP_CONNECTIONS_R)
    extrude(amount=-CUT_EXTRUDE2_DEPTH, mode=Mode.SUBTRACT)


solid = part.part
